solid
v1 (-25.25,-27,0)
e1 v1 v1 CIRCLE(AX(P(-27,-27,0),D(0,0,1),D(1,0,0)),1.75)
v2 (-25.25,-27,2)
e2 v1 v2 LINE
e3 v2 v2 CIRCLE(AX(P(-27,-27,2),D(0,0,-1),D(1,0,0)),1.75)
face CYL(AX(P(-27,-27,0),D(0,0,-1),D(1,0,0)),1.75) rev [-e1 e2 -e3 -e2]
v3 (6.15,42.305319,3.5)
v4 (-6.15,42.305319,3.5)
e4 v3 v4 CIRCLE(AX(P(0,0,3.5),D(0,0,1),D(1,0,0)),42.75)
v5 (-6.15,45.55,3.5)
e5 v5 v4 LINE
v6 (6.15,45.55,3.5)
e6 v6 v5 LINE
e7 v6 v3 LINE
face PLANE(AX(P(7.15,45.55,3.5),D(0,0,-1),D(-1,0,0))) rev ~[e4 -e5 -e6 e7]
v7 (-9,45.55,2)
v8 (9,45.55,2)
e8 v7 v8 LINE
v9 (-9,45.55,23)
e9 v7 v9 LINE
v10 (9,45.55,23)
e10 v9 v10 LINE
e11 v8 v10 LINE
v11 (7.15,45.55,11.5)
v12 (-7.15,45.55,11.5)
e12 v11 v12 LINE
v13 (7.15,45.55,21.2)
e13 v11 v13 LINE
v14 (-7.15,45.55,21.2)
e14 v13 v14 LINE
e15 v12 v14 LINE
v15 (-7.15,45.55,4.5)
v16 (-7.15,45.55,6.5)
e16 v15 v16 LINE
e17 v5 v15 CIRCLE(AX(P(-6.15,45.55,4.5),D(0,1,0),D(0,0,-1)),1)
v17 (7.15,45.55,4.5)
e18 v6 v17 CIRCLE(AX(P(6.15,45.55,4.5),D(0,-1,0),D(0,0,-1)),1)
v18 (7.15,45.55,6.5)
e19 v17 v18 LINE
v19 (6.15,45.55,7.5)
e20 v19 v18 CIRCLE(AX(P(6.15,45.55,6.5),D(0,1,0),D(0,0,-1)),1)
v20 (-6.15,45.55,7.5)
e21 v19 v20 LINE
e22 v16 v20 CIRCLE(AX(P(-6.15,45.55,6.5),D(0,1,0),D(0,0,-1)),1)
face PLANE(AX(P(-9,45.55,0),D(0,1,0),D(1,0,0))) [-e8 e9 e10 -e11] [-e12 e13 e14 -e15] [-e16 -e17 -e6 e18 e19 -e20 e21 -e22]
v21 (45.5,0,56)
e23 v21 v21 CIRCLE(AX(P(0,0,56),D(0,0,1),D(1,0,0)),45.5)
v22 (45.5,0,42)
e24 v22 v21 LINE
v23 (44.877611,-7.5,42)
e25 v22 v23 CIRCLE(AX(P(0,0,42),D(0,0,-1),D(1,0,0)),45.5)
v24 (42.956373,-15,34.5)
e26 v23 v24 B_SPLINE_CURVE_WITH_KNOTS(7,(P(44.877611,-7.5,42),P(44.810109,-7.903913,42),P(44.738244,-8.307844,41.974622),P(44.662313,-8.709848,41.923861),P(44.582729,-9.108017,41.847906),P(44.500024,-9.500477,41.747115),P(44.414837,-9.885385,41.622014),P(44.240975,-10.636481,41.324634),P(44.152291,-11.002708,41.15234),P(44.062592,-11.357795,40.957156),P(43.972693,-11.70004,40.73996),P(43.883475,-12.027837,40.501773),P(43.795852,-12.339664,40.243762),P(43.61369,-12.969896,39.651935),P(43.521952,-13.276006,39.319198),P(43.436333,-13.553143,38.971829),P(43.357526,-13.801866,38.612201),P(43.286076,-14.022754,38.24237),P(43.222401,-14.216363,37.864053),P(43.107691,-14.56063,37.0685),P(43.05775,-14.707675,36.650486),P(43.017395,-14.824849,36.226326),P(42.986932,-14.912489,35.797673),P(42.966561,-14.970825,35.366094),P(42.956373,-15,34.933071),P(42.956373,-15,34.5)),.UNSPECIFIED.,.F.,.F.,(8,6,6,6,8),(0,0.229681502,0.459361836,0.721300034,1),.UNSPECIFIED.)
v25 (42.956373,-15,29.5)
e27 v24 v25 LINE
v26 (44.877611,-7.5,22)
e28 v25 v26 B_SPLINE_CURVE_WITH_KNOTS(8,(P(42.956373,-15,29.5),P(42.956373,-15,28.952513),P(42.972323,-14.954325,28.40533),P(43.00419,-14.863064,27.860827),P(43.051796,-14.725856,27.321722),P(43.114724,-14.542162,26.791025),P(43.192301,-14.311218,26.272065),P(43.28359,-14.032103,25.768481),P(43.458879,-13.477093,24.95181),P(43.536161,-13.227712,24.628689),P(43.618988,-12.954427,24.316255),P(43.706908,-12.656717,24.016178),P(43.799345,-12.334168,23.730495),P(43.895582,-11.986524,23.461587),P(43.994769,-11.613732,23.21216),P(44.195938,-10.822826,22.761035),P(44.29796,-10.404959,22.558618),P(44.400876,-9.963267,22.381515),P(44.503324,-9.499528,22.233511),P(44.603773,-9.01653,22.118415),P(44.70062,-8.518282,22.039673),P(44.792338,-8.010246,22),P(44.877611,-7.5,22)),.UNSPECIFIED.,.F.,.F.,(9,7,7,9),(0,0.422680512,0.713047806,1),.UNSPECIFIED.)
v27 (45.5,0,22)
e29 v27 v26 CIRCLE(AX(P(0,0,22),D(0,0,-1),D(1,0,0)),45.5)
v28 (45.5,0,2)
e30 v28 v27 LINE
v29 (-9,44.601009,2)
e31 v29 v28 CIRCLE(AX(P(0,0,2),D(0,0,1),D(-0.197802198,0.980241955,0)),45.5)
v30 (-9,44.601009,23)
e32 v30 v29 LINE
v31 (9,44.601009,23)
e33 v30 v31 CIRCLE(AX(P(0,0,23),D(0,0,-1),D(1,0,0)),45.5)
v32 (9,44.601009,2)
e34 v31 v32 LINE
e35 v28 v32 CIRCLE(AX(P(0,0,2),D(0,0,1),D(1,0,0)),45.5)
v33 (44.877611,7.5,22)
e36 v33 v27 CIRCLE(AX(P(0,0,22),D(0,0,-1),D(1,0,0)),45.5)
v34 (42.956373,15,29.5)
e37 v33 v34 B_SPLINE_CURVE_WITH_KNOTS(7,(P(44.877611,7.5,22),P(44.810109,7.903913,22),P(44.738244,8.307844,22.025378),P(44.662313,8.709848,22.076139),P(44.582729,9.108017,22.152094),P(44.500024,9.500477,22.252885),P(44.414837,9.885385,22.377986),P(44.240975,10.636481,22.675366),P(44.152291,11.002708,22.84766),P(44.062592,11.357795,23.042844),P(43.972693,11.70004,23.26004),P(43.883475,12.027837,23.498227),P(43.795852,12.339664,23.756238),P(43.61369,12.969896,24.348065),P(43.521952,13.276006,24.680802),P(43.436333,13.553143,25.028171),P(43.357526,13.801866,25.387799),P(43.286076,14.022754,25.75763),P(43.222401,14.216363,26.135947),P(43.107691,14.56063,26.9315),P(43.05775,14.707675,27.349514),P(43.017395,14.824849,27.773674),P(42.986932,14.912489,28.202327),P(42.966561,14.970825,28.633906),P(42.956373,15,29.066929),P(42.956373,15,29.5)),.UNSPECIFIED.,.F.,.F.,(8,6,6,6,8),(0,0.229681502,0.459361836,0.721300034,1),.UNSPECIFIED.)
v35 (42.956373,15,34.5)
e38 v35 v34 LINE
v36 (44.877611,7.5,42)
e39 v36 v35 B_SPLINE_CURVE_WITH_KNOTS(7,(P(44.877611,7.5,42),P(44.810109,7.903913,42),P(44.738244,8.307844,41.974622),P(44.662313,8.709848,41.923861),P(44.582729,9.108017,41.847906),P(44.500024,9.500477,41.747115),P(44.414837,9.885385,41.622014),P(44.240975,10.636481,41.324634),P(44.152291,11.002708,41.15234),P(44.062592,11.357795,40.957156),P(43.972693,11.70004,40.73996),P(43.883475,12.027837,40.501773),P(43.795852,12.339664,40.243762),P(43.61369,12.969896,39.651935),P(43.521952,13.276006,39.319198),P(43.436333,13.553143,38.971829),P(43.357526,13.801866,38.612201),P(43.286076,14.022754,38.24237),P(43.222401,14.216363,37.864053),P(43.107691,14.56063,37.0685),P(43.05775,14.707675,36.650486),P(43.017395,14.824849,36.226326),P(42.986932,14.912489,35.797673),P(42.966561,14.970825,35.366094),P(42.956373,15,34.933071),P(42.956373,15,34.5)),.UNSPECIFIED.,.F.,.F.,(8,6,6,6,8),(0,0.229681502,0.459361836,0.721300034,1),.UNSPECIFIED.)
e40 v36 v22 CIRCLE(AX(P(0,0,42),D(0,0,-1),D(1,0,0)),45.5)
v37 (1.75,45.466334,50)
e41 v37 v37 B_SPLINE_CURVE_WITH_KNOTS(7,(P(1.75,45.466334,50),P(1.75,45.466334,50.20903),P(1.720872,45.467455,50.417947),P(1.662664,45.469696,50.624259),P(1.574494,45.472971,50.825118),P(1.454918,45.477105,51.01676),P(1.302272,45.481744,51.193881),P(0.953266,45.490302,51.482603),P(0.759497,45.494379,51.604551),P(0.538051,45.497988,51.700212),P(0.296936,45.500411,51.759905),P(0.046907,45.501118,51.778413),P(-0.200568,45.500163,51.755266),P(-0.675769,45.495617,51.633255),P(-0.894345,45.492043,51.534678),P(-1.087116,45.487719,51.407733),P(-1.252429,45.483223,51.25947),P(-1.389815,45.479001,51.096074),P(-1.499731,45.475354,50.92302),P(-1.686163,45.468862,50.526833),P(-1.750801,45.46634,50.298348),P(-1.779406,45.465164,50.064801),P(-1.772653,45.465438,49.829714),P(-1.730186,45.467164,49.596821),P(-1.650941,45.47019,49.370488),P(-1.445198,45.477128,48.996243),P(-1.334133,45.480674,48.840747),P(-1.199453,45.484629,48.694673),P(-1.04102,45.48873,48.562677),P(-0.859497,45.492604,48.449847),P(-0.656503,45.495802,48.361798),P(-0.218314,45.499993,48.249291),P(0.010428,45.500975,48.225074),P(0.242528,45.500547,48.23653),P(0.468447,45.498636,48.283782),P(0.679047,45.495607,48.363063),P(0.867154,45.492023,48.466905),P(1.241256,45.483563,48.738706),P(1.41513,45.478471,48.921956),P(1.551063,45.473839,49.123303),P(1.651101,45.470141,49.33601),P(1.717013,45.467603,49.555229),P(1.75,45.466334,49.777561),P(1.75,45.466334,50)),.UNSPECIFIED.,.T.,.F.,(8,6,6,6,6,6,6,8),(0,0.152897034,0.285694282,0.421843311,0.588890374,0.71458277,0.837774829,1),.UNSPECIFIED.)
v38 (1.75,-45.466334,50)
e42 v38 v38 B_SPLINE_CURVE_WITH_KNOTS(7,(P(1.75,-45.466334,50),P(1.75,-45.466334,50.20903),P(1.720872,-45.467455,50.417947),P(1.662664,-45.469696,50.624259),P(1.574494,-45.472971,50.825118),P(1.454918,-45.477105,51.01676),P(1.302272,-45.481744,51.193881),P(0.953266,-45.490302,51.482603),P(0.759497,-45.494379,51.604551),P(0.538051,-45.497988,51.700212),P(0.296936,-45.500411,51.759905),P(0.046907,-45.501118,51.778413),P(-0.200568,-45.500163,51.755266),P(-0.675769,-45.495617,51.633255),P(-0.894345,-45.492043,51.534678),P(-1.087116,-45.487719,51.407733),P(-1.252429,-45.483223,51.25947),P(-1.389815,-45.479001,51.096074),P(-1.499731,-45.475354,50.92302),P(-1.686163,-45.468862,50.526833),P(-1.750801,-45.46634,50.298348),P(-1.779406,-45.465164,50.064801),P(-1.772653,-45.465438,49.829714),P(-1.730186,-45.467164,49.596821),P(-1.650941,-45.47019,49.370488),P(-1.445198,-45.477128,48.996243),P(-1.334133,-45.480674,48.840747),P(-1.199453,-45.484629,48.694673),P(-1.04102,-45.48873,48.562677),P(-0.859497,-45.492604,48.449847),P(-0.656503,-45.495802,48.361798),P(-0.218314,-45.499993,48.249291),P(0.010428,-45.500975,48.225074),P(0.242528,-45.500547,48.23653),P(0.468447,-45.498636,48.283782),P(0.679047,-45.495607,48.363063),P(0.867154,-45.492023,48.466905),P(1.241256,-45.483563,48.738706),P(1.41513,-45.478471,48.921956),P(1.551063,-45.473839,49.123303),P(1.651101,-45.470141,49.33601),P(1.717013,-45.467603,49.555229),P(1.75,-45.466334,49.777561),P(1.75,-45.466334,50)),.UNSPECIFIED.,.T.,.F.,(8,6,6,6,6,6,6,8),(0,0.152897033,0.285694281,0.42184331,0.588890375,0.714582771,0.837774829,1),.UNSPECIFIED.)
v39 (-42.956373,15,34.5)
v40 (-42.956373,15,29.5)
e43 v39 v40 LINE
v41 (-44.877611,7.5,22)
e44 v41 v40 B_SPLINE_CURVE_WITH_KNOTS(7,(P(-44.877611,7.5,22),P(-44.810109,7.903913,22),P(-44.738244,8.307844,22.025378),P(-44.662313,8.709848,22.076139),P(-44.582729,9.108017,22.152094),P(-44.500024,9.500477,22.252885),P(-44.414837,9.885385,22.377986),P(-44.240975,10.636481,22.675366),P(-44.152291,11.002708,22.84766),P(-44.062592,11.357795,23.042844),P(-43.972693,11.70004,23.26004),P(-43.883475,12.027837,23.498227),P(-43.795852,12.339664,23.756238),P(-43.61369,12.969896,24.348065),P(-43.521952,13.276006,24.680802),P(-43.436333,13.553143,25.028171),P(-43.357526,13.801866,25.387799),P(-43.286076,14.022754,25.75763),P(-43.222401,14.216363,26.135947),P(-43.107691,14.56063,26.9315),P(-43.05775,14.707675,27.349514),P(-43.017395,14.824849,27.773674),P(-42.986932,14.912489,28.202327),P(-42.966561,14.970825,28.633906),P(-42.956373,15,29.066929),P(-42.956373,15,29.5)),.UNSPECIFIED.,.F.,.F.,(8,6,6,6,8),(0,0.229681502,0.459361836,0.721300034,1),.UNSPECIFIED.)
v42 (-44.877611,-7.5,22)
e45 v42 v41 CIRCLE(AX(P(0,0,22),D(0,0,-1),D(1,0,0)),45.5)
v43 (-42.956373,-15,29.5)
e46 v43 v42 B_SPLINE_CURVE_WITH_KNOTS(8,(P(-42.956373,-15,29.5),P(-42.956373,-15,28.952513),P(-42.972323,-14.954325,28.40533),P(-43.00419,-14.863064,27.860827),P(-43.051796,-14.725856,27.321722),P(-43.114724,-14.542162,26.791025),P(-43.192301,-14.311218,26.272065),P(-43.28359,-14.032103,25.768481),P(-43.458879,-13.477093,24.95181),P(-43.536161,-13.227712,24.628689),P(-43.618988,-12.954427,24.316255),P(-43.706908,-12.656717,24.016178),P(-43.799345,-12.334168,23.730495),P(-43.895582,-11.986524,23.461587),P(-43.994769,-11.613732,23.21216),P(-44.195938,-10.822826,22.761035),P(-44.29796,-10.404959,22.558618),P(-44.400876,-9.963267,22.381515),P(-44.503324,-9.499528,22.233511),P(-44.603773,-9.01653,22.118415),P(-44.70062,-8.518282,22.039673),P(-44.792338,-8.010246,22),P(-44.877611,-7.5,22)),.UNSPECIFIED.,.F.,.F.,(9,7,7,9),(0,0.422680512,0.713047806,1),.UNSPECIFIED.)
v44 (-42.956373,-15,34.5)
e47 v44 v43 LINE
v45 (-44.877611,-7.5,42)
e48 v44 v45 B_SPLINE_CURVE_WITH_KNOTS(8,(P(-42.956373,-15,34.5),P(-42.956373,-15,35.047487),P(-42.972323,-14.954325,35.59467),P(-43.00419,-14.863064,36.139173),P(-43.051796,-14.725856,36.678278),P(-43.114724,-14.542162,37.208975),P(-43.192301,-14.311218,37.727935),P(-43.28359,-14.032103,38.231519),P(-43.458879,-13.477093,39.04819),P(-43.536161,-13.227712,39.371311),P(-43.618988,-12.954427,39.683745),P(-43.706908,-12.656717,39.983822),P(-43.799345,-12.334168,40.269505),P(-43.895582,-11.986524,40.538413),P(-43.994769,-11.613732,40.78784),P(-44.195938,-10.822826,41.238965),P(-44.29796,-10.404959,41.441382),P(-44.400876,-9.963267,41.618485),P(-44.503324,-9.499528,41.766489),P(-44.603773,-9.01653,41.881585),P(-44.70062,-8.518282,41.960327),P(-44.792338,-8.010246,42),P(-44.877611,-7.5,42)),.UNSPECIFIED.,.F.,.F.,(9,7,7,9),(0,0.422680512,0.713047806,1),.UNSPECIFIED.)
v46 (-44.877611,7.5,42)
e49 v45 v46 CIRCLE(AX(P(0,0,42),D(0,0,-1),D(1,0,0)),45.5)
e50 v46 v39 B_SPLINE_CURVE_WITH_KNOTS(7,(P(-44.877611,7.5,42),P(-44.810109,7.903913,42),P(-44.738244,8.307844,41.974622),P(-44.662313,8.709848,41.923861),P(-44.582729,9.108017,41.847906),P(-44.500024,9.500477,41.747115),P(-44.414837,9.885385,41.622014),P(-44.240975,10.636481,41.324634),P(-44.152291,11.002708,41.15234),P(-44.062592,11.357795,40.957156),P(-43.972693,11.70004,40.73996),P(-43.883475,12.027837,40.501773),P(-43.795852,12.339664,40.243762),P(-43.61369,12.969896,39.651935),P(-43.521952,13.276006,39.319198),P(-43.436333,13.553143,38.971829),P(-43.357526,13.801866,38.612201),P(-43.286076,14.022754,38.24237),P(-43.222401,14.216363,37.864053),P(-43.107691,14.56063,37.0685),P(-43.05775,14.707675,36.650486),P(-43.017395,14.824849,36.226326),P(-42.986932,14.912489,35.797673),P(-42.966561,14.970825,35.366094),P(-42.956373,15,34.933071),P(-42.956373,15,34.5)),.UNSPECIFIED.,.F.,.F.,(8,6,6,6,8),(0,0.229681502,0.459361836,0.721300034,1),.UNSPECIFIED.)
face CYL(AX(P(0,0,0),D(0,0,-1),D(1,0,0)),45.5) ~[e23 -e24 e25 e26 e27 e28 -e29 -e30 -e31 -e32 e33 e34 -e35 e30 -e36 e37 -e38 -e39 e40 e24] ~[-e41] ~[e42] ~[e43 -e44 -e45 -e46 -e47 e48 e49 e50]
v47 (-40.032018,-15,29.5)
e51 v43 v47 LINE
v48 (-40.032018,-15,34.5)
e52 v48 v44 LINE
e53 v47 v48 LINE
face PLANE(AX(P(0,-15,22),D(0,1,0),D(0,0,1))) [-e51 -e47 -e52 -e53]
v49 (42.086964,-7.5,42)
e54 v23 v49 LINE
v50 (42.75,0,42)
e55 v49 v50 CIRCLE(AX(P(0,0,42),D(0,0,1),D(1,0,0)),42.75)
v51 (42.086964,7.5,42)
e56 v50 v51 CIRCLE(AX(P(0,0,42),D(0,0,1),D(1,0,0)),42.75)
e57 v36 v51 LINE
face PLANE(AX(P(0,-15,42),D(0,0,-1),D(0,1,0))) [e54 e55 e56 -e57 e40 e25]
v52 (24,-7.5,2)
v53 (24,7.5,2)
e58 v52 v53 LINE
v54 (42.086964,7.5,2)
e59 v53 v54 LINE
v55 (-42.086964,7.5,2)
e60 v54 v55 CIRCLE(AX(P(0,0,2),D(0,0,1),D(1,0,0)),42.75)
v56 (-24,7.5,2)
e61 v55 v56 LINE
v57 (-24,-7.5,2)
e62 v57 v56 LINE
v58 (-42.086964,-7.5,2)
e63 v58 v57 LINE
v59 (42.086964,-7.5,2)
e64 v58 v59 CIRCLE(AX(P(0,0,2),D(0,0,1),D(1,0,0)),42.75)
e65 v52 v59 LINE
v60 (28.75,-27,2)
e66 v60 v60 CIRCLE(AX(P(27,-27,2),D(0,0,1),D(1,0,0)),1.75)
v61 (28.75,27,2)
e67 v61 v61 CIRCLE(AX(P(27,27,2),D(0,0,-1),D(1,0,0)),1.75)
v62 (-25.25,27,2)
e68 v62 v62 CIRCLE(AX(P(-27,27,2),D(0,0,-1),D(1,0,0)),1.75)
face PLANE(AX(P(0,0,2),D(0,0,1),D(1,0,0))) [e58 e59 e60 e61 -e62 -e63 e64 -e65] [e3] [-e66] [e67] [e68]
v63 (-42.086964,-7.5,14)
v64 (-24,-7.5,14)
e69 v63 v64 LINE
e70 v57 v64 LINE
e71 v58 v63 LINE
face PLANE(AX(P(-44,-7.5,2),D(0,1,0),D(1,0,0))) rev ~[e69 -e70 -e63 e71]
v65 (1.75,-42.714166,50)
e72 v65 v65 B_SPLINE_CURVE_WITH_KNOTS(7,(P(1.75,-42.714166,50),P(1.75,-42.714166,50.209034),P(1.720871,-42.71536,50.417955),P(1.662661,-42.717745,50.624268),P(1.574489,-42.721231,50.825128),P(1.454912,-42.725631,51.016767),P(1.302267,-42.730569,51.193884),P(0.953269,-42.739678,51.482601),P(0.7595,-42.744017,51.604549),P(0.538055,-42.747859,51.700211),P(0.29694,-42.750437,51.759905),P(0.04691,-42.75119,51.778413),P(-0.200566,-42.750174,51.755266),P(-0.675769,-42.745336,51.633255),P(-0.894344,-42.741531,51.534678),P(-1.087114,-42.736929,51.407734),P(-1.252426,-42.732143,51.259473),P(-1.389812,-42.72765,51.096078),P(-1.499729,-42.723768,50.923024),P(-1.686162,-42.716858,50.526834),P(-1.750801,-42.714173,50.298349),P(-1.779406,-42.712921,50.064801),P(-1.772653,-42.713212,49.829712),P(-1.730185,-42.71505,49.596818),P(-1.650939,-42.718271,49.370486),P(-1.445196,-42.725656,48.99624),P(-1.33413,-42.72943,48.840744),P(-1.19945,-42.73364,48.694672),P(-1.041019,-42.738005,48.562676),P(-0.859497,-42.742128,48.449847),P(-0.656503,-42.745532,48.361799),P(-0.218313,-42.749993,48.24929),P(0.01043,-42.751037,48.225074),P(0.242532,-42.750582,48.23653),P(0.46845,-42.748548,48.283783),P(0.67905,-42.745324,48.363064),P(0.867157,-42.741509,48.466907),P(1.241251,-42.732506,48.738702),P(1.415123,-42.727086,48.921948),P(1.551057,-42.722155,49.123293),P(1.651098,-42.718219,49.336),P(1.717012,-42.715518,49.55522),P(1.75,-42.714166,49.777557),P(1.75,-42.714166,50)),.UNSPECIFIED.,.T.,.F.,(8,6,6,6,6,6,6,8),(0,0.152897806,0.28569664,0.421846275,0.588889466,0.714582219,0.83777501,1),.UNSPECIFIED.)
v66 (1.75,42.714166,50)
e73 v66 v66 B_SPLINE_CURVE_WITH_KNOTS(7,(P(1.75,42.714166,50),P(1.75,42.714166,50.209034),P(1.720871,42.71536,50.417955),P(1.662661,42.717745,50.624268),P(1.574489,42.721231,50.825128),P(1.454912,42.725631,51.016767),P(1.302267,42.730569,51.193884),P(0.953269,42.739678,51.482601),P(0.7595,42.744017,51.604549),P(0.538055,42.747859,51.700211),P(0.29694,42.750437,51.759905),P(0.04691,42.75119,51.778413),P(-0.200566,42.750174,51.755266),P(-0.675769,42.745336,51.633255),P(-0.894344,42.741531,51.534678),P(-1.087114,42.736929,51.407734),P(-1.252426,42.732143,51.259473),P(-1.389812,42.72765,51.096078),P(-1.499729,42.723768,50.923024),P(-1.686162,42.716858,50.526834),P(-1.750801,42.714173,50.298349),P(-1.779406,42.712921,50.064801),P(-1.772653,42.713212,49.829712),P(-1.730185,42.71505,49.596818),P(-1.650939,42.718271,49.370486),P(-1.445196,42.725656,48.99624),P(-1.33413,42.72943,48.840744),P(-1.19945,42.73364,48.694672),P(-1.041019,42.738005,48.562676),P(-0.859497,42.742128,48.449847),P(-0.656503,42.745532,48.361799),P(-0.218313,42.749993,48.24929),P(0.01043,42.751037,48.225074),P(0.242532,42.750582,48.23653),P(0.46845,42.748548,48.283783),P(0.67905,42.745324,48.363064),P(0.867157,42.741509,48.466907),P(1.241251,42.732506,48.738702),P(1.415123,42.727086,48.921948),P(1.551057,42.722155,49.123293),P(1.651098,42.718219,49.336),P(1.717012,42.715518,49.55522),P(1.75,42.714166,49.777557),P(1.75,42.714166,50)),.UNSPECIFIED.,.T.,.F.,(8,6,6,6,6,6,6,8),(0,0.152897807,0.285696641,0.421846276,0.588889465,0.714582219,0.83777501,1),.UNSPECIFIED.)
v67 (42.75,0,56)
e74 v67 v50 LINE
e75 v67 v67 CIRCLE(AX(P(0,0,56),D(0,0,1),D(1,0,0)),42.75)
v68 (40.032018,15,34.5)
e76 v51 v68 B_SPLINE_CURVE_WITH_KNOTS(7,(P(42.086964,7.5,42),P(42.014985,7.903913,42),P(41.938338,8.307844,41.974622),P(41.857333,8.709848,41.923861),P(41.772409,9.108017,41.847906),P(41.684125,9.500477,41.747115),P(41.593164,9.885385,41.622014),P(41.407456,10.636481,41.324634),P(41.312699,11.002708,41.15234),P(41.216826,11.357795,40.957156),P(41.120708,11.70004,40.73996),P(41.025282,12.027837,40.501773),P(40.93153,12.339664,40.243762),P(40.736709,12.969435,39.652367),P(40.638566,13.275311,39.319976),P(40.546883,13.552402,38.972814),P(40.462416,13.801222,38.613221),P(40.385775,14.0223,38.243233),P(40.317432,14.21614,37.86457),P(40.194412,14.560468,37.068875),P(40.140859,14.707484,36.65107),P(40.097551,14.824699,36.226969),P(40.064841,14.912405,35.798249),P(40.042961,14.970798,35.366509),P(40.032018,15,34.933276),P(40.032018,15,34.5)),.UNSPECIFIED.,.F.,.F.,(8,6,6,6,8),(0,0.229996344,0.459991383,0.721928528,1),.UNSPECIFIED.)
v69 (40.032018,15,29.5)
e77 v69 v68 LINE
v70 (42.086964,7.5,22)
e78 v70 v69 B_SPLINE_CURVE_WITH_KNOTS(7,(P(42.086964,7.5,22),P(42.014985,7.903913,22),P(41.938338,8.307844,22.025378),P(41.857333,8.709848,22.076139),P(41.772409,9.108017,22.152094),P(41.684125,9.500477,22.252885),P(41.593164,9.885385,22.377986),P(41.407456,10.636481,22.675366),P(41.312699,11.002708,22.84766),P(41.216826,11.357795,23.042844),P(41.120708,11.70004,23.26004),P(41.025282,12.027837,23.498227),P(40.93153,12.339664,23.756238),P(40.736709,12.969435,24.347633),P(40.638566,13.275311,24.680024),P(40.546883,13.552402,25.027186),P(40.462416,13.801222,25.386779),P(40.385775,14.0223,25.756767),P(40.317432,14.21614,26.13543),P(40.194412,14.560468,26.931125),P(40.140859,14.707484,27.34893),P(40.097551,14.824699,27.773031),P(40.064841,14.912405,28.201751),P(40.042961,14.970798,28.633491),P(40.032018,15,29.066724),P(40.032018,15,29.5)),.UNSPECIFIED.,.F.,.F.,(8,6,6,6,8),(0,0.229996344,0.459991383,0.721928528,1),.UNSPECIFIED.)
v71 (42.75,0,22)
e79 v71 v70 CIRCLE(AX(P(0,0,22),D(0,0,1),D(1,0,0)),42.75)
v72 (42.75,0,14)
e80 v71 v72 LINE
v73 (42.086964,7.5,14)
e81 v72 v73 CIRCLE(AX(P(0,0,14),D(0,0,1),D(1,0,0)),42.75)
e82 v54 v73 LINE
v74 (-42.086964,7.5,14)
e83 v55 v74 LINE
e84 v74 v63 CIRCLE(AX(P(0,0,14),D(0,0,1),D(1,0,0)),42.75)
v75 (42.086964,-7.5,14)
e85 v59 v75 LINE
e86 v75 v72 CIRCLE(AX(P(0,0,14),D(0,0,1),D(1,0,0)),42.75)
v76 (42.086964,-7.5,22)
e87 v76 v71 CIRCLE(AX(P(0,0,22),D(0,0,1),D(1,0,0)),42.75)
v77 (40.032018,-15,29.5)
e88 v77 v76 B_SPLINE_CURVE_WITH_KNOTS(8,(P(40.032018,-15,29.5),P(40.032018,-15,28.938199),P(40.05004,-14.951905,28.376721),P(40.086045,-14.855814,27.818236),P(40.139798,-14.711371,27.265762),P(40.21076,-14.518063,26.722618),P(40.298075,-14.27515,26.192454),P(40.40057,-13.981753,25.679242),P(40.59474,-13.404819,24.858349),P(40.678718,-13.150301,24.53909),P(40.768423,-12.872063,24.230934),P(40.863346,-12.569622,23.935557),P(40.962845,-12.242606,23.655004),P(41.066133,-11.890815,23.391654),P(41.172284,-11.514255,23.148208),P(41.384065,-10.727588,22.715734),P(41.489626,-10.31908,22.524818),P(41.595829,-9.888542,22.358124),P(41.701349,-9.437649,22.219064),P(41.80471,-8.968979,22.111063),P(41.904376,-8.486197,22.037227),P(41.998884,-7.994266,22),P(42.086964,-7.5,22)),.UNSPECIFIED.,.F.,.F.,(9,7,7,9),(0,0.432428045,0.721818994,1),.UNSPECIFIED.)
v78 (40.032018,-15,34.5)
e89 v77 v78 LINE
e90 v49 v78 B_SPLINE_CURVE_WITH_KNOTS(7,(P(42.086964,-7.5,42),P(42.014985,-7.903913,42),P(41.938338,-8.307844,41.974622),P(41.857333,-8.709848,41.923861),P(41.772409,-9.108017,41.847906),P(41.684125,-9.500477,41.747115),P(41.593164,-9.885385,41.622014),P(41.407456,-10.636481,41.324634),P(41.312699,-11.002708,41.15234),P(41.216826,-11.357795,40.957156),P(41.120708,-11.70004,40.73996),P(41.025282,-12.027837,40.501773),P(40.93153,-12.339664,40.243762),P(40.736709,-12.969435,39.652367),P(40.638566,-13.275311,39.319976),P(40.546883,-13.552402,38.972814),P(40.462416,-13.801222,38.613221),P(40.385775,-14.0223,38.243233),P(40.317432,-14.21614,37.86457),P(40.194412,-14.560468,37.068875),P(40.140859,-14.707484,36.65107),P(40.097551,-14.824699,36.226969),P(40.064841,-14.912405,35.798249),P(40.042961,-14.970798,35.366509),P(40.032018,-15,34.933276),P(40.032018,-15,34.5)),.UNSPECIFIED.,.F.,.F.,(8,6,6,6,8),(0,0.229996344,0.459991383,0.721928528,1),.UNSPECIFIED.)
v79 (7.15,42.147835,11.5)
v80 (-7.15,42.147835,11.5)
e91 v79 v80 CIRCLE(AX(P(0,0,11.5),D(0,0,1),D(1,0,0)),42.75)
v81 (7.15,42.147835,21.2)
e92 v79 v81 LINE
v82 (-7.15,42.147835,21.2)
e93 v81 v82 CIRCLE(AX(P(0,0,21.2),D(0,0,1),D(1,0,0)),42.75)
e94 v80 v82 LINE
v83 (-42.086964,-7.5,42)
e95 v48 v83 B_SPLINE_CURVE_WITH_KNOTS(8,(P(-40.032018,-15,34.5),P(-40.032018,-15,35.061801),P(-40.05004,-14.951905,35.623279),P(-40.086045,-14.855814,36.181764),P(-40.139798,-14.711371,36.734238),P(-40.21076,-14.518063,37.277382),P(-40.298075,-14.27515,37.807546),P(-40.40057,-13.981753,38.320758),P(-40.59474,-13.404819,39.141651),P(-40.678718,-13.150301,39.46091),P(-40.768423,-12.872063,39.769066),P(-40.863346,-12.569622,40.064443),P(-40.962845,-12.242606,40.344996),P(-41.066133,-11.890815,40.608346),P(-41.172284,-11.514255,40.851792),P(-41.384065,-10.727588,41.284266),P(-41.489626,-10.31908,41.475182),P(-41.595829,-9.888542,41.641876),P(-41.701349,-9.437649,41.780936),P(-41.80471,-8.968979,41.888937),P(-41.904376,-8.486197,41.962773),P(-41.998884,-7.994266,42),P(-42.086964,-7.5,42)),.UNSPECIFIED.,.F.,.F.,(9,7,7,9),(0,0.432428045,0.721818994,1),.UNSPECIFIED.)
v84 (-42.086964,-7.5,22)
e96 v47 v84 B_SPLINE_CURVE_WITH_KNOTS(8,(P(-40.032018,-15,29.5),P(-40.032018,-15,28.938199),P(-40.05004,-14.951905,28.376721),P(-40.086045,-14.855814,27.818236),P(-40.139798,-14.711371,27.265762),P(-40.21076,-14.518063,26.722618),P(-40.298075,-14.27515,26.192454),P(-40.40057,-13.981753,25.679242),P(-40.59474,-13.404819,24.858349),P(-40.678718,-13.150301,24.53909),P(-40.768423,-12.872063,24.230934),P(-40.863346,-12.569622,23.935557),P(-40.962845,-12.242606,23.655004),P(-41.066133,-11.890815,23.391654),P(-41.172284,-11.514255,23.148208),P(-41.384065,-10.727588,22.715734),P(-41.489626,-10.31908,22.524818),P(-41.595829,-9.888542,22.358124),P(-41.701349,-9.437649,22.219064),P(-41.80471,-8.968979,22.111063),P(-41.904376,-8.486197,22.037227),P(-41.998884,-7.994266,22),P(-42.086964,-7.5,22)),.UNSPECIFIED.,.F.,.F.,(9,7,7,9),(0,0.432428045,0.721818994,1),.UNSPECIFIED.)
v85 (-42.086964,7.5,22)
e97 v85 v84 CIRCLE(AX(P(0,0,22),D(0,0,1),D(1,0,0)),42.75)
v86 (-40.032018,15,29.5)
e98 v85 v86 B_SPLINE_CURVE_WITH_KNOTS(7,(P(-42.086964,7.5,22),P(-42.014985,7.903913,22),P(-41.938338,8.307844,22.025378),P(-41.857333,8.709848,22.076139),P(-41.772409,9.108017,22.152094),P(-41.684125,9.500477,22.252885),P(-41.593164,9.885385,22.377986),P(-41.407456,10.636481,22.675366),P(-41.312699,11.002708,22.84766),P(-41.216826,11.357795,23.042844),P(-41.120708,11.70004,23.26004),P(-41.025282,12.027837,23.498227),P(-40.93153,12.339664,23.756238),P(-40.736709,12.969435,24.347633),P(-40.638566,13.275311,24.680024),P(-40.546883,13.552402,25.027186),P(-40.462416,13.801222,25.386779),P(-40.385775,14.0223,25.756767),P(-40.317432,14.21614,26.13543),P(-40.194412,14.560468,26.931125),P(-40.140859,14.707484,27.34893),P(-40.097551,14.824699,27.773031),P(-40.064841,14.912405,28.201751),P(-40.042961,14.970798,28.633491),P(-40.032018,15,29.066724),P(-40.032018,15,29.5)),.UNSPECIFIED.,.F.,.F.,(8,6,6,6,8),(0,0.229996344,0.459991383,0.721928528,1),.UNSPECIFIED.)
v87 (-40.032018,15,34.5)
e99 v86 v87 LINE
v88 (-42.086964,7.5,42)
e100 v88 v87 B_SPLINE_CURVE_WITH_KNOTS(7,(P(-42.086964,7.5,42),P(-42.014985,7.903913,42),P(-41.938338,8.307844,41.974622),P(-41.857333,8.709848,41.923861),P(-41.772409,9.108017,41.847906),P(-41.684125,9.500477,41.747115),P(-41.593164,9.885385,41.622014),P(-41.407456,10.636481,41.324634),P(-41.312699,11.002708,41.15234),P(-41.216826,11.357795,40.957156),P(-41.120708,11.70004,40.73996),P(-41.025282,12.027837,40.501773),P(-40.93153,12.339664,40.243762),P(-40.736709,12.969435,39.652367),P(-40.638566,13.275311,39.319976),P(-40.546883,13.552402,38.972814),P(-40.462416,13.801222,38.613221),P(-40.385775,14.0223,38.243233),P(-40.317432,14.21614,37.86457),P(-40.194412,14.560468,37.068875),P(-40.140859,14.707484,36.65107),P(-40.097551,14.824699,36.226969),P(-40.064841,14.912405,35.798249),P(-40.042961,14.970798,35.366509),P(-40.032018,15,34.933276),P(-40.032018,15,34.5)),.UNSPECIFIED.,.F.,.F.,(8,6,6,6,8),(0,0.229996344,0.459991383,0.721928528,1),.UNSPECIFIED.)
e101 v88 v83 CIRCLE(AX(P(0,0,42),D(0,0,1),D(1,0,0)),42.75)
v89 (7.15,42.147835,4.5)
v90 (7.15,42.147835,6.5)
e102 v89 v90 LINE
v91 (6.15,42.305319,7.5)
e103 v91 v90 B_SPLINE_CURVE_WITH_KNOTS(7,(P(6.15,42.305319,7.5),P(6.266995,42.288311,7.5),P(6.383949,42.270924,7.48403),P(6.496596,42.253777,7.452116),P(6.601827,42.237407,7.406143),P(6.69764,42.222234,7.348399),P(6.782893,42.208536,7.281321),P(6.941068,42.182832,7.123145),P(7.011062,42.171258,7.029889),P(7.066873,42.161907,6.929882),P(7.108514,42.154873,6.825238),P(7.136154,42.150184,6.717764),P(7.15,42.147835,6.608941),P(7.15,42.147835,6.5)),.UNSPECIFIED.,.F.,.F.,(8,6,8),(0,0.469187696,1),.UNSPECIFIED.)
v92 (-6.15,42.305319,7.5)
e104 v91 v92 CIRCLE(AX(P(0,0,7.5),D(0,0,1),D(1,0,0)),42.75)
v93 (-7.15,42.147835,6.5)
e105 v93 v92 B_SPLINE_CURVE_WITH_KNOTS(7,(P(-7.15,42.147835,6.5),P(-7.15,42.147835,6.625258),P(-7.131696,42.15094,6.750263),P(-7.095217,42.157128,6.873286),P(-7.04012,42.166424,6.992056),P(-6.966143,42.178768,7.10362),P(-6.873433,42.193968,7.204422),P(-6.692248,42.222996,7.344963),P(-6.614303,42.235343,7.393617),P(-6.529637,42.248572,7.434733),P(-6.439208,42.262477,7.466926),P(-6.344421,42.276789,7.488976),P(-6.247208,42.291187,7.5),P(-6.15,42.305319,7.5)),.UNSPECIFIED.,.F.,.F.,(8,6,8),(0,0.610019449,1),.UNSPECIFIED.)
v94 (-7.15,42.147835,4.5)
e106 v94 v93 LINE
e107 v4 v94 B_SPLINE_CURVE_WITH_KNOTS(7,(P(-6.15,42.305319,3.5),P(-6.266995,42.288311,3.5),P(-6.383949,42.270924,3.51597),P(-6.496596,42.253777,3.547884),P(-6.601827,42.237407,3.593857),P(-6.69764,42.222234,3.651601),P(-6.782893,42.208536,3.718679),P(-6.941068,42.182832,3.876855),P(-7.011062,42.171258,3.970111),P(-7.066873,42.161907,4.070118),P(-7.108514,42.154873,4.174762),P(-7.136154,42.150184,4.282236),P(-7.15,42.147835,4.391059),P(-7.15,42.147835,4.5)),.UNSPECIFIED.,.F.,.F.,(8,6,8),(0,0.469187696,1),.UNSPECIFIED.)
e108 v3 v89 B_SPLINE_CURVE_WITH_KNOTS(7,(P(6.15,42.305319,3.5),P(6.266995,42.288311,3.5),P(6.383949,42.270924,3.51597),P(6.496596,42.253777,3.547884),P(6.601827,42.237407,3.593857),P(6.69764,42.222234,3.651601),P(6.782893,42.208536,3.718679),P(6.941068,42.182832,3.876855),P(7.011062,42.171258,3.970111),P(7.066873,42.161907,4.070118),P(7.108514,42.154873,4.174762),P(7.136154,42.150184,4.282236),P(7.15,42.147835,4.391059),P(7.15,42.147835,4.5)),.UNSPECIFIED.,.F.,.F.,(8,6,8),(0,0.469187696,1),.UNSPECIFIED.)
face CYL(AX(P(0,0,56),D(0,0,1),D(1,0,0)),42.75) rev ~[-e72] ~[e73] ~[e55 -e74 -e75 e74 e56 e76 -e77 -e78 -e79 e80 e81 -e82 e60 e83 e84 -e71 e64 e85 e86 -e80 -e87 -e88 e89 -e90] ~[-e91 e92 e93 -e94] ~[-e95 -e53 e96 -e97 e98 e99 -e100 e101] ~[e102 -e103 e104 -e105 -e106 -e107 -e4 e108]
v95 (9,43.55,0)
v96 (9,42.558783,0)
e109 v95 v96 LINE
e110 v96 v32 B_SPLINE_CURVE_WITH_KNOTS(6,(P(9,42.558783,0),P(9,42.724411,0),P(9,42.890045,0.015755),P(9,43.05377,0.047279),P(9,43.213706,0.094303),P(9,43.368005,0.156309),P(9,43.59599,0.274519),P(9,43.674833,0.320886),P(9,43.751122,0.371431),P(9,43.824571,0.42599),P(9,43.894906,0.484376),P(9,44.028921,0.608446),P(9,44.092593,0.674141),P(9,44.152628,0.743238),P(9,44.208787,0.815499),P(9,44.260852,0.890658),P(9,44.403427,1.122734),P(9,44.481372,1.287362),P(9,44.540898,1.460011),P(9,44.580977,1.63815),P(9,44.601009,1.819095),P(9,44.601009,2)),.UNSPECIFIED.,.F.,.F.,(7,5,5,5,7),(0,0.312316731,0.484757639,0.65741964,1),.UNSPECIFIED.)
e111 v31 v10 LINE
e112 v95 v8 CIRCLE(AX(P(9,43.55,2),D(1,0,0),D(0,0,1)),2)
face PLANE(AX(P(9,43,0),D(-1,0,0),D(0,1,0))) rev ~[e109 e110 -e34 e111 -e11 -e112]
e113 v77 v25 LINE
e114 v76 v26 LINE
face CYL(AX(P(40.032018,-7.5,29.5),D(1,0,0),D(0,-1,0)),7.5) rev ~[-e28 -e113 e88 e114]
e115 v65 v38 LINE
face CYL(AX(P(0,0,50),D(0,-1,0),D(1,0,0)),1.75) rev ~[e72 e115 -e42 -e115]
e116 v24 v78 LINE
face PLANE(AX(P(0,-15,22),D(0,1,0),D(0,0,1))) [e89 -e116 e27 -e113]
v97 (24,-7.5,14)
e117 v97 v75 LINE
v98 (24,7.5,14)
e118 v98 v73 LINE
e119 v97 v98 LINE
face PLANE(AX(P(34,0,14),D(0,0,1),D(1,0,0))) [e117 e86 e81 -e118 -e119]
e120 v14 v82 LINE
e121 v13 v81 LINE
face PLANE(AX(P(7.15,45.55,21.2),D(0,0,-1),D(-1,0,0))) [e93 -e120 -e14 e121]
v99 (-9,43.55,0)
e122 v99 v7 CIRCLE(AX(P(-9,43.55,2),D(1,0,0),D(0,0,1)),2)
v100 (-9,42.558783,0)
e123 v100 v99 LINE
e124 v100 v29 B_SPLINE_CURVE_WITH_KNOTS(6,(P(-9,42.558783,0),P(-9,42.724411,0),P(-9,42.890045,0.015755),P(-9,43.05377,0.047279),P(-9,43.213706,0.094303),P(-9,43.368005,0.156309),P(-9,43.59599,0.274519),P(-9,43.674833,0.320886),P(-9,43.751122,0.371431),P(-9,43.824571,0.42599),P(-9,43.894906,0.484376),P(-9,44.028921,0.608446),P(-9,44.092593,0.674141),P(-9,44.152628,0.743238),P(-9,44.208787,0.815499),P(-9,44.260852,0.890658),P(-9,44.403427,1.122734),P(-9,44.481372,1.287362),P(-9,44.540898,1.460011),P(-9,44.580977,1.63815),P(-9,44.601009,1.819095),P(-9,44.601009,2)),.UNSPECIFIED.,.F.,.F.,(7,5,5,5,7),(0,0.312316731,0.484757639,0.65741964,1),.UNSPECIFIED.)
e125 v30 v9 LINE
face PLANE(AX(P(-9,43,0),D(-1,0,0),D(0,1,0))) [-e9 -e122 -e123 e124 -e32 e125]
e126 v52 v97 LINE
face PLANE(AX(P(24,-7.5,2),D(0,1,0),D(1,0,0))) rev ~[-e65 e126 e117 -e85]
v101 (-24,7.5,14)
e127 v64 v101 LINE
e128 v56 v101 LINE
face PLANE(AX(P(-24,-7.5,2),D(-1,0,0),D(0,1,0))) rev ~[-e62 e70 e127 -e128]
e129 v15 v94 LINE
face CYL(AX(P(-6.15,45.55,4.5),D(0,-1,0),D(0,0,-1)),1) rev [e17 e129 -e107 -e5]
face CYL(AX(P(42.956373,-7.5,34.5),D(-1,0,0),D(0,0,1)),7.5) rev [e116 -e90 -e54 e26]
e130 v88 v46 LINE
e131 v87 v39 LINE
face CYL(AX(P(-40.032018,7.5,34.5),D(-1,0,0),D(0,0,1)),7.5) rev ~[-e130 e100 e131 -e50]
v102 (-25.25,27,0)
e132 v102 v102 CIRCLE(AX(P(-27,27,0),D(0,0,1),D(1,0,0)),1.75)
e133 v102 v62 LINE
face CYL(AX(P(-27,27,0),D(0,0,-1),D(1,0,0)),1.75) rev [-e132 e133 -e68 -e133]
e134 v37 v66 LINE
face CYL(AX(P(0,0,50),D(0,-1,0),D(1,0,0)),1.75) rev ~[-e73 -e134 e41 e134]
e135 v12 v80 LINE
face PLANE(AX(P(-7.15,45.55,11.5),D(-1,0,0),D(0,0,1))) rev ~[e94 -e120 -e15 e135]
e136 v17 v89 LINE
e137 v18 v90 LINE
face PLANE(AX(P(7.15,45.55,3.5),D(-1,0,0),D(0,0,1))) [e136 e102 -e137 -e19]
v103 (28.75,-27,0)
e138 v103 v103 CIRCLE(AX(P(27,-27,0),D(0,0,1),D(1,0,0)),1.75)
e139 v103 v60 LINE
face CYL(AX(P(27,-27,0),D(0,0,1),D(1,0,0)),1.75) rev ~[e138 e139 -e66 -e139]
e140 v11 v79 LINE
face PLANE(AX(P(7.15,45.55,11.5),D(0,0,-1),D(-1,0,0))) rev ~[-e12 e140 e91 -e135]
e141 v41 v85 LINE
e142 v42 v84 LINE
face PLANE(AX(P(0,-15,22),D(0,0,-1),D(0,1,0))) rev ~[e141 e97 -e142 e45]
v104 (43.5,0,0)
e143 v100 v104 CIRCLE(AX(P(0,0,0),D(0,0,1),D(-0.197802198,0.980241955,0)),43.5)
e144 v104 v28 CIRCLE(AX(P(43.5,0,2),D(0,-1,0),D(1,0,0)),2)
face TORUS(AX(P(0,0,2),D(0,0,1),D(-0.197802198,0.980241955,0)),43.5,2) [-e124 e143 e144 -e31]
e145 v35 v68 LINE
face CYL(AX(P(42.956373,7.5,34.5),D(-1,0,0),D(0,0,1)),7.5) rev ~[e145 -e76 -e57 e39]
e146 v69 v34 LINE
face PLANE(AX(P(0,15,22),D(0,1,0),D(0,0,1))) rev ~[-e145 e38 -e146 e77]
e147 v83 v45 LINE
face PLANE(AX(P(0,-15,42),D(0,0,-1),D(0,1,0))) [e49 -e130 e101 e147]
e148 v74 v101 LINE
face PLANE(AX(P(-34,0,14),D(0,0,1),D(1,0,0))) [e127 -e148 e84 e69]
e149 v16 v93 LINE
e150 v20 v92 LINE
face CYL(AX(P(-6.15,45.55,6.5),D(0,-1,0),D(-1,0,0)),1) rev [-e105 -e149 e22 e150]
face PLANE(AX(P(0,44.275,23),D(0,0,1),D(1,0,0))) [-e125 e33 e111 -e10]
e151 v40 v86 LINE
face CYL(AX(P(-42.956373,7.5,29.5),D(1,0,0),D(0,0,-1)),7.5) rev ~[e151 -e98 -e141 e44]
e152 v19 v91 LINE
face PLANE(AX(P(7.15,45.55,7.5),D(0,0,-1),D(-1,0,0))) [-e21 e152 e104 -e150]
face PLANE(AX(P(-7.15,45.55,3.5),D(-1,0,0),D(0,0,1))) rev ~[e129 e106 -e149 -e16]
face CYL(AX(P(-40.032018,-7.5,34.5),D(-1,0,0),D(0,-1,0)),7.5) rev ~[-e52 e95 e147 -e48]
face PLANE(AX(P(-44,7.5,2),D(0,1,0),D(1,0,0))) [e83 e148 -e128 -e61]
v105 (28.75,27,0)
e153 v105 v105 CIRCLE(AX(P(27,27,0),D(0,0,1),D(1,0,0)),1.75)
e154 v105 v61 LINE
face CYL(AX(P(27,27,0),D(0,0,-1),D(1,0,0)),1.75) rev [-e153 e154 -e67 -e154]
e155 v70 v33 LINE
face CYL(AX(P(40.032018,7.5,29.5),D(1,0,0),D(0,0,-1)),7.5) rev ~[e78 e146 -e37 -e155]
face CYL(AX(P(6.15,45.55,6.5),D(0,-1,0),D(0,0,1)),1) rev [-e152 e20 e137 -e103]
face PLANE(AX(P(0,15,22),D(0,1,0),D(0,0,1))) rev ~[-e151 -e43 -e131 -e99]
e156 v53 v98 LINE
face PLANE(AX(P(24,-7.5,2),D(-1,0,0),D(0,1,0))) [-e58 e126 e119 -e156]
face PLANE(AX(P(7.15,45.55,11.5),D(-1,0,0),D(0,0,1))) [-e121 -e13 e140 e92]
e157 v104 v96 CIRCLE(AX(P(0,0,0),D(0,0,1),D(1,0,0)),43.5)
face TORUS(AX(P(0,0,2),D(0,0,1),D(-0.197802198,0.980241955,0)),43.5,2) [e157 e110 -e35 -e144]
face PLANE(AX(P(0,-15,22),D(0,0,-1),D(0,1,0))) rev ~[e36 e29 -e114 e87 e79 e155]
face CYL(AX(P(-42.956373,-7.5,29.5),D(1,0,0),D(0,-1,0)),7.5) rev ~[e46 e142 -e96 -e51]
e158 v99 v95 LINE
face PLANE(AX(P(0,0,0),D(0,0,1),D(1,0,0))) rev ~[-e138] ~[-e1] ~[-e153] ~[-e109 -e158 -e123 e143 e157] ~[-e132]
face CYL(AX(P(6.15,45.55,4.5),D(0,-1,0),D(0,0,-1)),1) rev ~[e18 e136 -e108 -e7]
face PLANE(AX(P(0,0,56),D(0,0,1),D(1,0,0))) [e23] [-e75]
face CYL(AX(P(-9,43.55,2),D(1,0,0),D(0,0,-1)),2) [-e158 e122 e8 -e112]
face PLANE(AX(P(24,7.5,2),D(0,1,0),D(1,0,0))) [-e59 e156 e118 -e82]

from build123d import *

# Parameters (mm, degrees)
SKETCH_R        = 45.5
PAD_DEPTH       = 56
SKETCH001_R     = 42.75
POCKET_DEPTH    = 54
SKETCH002_W     = 20
SKETCH002_H     = 15
PAD001_DEPTH    = 12
SKETCH003_W     = 30
SKETCH003_H     = 20
POCKET001_DEPTH = 60
SKETCH004_W     = 18
SKETCH004_H     = 2.55
PAD002_DEPTH    = 23
SKETCH005_W     = 14.3
SKETCH005_H     = 4
SKETCH005_H_2   = 9.7
POCKET002_DEPTH = 5
SKETCH007_R     = 1.75
POCKET003_DEPTH = 60
FILLET_R        = 2
FILLET001_R     = 2
FILLET002_R     = 1
FILLET003_R     = 7.5
SKETCH006_R     = 1.75
POCKET004_DEPTH = 2.5


with BuildPart() as part:
    # Sketch → Pad (new body)
    with BuildSketch(Plane.XY):
        Circle(SKETCH_R)
    extrude(amount=PAD_DEPTH)

    # Sketch001 (on Face3 of Pad) → Pocket (cut)
    with BuildSketch(Plane.XY.offset(56)):
        Circle(SKETCH001_R)
    extrude(amount=-POCKET_DEPTH, mode=Mode.SUBTRACT)

    # Sketch002 (on Face5 of Pocket) → Pad001 (join)
    with BuildSketch(Plane.XY.offset(2)):
        with Locations((-34, 0)):
            Rectangle(SKETCH002_W, SKETCH002_H)
        with Locations((34, 0)):
            Rectangle(SKETCH002_W, SKETCH002_H)
    extrude(amount=PAD001_DEPTH)

    # Sketch003 → Pocket001 (cut, symmetric)
    with BuildSketch(Plane.YZ):
        with Locations((0, 32)):
            Rectangle(SKETCH003_W, SKETCH003_H)
    extrude(amount=POCKET001_DEPTH, both=True, mode=Mode.SUBTRACT)

    # Sketch004 → Pad002 (join)
    with BuildSketch(Plane.XY):
        with Locations((0, 44.275)):
            Rectangle(SKETCH004_W, SKETCH004_H)
    extrude(amount=PAD002_DEPTH)

    # Sketch005 (on Face15 of Pad002) → Pocket002 (cut)
    with BuildSketch(Plane(origin=(0, 45.55, 0), x_dir=(-1, 0, 0), z_dir=(0, 1, 0))):
        with Locations((0, 5.5)):
            Rectangle(SKETCH005_W, SKETCH005_H)
        with Locations((0, 16.35)):
            Rectangle(SKETCH005_W, SKETCH005_H_2)
    extrude(amount=-POCKET002_DEPTH, mode=Mode.SUBTRACT)

    # Sketch007 → Pocket003 (cut, symmetric)
    with BuildSketch(Plane.XZ):
        with Locations((0, 50)):
            Circle(SKETCH007_R)
    extrude(amount=POCKET003_DEPTH, both=True, mode=Mode.SUBTRACT)

    # Fillet
    fillet_edges = [part.edges().sort_by_distance(p)[0] for p in [
        (35.211859, 28.816228, 0),
        (-28.816228, -35.211859, 0),
    ]]
    fillet(fillet_edges, radius=FILLET_R)

    # Fillet001
    fillet001_edges = [part.edges().sort_by_distance(p)[0] for p in [
        (0, 45.55, 0),
    ]]
    fillet(fillet001_edges, radius=FILLET001_R)

    # Fillet002
    fillet002_edges = [part.edges().sort_by_distance(p)[0] for p in [
        (7.15, 43.848918, 3.5),
        (7.15, 43.848918, 7.5),
        (-7.15, 43.848918, 7.5),
        (-7.15, 43.848918, 3.5),
    ]]
    fillet(fillet002_edges, radius=FILLET002_R)

    # Fillet003
    fillet003_edges = [part.edges().sort_by_distance(p)[0] for p in [
        (41.494196, -15, 42),
        (41.494196, 15, 42),
        (41.494196, 15, 22),
        (41.494196, -15, 22),
        (-41.494196, 15, 42),
        (-41.494196, -15, 42),
        (-41.494196, 15, 22),
        (-41.494196, -15, 22),
    ]]
    fillet(fillet003_edges, radius=FILLET003_R)

    # Sketch006 → Pocket004 (cut, symmetric)
    with BuildSketch(Plane.XY):
        with Locations((-27, 27)):
            Circle(SKETCH006_R)
        with Locations((27, 27)):
            Circle(SKETCH006_R)
        with Locations((-27, -27)):
            Circle(SKETCH006_R)
        with Locations((27, -27)):
            Circle(SKETCH006_R)
    extrude(amount=POCKET004_DEPTH, both=True, mode=Mode.SUBTRACT)


solid = part.part
